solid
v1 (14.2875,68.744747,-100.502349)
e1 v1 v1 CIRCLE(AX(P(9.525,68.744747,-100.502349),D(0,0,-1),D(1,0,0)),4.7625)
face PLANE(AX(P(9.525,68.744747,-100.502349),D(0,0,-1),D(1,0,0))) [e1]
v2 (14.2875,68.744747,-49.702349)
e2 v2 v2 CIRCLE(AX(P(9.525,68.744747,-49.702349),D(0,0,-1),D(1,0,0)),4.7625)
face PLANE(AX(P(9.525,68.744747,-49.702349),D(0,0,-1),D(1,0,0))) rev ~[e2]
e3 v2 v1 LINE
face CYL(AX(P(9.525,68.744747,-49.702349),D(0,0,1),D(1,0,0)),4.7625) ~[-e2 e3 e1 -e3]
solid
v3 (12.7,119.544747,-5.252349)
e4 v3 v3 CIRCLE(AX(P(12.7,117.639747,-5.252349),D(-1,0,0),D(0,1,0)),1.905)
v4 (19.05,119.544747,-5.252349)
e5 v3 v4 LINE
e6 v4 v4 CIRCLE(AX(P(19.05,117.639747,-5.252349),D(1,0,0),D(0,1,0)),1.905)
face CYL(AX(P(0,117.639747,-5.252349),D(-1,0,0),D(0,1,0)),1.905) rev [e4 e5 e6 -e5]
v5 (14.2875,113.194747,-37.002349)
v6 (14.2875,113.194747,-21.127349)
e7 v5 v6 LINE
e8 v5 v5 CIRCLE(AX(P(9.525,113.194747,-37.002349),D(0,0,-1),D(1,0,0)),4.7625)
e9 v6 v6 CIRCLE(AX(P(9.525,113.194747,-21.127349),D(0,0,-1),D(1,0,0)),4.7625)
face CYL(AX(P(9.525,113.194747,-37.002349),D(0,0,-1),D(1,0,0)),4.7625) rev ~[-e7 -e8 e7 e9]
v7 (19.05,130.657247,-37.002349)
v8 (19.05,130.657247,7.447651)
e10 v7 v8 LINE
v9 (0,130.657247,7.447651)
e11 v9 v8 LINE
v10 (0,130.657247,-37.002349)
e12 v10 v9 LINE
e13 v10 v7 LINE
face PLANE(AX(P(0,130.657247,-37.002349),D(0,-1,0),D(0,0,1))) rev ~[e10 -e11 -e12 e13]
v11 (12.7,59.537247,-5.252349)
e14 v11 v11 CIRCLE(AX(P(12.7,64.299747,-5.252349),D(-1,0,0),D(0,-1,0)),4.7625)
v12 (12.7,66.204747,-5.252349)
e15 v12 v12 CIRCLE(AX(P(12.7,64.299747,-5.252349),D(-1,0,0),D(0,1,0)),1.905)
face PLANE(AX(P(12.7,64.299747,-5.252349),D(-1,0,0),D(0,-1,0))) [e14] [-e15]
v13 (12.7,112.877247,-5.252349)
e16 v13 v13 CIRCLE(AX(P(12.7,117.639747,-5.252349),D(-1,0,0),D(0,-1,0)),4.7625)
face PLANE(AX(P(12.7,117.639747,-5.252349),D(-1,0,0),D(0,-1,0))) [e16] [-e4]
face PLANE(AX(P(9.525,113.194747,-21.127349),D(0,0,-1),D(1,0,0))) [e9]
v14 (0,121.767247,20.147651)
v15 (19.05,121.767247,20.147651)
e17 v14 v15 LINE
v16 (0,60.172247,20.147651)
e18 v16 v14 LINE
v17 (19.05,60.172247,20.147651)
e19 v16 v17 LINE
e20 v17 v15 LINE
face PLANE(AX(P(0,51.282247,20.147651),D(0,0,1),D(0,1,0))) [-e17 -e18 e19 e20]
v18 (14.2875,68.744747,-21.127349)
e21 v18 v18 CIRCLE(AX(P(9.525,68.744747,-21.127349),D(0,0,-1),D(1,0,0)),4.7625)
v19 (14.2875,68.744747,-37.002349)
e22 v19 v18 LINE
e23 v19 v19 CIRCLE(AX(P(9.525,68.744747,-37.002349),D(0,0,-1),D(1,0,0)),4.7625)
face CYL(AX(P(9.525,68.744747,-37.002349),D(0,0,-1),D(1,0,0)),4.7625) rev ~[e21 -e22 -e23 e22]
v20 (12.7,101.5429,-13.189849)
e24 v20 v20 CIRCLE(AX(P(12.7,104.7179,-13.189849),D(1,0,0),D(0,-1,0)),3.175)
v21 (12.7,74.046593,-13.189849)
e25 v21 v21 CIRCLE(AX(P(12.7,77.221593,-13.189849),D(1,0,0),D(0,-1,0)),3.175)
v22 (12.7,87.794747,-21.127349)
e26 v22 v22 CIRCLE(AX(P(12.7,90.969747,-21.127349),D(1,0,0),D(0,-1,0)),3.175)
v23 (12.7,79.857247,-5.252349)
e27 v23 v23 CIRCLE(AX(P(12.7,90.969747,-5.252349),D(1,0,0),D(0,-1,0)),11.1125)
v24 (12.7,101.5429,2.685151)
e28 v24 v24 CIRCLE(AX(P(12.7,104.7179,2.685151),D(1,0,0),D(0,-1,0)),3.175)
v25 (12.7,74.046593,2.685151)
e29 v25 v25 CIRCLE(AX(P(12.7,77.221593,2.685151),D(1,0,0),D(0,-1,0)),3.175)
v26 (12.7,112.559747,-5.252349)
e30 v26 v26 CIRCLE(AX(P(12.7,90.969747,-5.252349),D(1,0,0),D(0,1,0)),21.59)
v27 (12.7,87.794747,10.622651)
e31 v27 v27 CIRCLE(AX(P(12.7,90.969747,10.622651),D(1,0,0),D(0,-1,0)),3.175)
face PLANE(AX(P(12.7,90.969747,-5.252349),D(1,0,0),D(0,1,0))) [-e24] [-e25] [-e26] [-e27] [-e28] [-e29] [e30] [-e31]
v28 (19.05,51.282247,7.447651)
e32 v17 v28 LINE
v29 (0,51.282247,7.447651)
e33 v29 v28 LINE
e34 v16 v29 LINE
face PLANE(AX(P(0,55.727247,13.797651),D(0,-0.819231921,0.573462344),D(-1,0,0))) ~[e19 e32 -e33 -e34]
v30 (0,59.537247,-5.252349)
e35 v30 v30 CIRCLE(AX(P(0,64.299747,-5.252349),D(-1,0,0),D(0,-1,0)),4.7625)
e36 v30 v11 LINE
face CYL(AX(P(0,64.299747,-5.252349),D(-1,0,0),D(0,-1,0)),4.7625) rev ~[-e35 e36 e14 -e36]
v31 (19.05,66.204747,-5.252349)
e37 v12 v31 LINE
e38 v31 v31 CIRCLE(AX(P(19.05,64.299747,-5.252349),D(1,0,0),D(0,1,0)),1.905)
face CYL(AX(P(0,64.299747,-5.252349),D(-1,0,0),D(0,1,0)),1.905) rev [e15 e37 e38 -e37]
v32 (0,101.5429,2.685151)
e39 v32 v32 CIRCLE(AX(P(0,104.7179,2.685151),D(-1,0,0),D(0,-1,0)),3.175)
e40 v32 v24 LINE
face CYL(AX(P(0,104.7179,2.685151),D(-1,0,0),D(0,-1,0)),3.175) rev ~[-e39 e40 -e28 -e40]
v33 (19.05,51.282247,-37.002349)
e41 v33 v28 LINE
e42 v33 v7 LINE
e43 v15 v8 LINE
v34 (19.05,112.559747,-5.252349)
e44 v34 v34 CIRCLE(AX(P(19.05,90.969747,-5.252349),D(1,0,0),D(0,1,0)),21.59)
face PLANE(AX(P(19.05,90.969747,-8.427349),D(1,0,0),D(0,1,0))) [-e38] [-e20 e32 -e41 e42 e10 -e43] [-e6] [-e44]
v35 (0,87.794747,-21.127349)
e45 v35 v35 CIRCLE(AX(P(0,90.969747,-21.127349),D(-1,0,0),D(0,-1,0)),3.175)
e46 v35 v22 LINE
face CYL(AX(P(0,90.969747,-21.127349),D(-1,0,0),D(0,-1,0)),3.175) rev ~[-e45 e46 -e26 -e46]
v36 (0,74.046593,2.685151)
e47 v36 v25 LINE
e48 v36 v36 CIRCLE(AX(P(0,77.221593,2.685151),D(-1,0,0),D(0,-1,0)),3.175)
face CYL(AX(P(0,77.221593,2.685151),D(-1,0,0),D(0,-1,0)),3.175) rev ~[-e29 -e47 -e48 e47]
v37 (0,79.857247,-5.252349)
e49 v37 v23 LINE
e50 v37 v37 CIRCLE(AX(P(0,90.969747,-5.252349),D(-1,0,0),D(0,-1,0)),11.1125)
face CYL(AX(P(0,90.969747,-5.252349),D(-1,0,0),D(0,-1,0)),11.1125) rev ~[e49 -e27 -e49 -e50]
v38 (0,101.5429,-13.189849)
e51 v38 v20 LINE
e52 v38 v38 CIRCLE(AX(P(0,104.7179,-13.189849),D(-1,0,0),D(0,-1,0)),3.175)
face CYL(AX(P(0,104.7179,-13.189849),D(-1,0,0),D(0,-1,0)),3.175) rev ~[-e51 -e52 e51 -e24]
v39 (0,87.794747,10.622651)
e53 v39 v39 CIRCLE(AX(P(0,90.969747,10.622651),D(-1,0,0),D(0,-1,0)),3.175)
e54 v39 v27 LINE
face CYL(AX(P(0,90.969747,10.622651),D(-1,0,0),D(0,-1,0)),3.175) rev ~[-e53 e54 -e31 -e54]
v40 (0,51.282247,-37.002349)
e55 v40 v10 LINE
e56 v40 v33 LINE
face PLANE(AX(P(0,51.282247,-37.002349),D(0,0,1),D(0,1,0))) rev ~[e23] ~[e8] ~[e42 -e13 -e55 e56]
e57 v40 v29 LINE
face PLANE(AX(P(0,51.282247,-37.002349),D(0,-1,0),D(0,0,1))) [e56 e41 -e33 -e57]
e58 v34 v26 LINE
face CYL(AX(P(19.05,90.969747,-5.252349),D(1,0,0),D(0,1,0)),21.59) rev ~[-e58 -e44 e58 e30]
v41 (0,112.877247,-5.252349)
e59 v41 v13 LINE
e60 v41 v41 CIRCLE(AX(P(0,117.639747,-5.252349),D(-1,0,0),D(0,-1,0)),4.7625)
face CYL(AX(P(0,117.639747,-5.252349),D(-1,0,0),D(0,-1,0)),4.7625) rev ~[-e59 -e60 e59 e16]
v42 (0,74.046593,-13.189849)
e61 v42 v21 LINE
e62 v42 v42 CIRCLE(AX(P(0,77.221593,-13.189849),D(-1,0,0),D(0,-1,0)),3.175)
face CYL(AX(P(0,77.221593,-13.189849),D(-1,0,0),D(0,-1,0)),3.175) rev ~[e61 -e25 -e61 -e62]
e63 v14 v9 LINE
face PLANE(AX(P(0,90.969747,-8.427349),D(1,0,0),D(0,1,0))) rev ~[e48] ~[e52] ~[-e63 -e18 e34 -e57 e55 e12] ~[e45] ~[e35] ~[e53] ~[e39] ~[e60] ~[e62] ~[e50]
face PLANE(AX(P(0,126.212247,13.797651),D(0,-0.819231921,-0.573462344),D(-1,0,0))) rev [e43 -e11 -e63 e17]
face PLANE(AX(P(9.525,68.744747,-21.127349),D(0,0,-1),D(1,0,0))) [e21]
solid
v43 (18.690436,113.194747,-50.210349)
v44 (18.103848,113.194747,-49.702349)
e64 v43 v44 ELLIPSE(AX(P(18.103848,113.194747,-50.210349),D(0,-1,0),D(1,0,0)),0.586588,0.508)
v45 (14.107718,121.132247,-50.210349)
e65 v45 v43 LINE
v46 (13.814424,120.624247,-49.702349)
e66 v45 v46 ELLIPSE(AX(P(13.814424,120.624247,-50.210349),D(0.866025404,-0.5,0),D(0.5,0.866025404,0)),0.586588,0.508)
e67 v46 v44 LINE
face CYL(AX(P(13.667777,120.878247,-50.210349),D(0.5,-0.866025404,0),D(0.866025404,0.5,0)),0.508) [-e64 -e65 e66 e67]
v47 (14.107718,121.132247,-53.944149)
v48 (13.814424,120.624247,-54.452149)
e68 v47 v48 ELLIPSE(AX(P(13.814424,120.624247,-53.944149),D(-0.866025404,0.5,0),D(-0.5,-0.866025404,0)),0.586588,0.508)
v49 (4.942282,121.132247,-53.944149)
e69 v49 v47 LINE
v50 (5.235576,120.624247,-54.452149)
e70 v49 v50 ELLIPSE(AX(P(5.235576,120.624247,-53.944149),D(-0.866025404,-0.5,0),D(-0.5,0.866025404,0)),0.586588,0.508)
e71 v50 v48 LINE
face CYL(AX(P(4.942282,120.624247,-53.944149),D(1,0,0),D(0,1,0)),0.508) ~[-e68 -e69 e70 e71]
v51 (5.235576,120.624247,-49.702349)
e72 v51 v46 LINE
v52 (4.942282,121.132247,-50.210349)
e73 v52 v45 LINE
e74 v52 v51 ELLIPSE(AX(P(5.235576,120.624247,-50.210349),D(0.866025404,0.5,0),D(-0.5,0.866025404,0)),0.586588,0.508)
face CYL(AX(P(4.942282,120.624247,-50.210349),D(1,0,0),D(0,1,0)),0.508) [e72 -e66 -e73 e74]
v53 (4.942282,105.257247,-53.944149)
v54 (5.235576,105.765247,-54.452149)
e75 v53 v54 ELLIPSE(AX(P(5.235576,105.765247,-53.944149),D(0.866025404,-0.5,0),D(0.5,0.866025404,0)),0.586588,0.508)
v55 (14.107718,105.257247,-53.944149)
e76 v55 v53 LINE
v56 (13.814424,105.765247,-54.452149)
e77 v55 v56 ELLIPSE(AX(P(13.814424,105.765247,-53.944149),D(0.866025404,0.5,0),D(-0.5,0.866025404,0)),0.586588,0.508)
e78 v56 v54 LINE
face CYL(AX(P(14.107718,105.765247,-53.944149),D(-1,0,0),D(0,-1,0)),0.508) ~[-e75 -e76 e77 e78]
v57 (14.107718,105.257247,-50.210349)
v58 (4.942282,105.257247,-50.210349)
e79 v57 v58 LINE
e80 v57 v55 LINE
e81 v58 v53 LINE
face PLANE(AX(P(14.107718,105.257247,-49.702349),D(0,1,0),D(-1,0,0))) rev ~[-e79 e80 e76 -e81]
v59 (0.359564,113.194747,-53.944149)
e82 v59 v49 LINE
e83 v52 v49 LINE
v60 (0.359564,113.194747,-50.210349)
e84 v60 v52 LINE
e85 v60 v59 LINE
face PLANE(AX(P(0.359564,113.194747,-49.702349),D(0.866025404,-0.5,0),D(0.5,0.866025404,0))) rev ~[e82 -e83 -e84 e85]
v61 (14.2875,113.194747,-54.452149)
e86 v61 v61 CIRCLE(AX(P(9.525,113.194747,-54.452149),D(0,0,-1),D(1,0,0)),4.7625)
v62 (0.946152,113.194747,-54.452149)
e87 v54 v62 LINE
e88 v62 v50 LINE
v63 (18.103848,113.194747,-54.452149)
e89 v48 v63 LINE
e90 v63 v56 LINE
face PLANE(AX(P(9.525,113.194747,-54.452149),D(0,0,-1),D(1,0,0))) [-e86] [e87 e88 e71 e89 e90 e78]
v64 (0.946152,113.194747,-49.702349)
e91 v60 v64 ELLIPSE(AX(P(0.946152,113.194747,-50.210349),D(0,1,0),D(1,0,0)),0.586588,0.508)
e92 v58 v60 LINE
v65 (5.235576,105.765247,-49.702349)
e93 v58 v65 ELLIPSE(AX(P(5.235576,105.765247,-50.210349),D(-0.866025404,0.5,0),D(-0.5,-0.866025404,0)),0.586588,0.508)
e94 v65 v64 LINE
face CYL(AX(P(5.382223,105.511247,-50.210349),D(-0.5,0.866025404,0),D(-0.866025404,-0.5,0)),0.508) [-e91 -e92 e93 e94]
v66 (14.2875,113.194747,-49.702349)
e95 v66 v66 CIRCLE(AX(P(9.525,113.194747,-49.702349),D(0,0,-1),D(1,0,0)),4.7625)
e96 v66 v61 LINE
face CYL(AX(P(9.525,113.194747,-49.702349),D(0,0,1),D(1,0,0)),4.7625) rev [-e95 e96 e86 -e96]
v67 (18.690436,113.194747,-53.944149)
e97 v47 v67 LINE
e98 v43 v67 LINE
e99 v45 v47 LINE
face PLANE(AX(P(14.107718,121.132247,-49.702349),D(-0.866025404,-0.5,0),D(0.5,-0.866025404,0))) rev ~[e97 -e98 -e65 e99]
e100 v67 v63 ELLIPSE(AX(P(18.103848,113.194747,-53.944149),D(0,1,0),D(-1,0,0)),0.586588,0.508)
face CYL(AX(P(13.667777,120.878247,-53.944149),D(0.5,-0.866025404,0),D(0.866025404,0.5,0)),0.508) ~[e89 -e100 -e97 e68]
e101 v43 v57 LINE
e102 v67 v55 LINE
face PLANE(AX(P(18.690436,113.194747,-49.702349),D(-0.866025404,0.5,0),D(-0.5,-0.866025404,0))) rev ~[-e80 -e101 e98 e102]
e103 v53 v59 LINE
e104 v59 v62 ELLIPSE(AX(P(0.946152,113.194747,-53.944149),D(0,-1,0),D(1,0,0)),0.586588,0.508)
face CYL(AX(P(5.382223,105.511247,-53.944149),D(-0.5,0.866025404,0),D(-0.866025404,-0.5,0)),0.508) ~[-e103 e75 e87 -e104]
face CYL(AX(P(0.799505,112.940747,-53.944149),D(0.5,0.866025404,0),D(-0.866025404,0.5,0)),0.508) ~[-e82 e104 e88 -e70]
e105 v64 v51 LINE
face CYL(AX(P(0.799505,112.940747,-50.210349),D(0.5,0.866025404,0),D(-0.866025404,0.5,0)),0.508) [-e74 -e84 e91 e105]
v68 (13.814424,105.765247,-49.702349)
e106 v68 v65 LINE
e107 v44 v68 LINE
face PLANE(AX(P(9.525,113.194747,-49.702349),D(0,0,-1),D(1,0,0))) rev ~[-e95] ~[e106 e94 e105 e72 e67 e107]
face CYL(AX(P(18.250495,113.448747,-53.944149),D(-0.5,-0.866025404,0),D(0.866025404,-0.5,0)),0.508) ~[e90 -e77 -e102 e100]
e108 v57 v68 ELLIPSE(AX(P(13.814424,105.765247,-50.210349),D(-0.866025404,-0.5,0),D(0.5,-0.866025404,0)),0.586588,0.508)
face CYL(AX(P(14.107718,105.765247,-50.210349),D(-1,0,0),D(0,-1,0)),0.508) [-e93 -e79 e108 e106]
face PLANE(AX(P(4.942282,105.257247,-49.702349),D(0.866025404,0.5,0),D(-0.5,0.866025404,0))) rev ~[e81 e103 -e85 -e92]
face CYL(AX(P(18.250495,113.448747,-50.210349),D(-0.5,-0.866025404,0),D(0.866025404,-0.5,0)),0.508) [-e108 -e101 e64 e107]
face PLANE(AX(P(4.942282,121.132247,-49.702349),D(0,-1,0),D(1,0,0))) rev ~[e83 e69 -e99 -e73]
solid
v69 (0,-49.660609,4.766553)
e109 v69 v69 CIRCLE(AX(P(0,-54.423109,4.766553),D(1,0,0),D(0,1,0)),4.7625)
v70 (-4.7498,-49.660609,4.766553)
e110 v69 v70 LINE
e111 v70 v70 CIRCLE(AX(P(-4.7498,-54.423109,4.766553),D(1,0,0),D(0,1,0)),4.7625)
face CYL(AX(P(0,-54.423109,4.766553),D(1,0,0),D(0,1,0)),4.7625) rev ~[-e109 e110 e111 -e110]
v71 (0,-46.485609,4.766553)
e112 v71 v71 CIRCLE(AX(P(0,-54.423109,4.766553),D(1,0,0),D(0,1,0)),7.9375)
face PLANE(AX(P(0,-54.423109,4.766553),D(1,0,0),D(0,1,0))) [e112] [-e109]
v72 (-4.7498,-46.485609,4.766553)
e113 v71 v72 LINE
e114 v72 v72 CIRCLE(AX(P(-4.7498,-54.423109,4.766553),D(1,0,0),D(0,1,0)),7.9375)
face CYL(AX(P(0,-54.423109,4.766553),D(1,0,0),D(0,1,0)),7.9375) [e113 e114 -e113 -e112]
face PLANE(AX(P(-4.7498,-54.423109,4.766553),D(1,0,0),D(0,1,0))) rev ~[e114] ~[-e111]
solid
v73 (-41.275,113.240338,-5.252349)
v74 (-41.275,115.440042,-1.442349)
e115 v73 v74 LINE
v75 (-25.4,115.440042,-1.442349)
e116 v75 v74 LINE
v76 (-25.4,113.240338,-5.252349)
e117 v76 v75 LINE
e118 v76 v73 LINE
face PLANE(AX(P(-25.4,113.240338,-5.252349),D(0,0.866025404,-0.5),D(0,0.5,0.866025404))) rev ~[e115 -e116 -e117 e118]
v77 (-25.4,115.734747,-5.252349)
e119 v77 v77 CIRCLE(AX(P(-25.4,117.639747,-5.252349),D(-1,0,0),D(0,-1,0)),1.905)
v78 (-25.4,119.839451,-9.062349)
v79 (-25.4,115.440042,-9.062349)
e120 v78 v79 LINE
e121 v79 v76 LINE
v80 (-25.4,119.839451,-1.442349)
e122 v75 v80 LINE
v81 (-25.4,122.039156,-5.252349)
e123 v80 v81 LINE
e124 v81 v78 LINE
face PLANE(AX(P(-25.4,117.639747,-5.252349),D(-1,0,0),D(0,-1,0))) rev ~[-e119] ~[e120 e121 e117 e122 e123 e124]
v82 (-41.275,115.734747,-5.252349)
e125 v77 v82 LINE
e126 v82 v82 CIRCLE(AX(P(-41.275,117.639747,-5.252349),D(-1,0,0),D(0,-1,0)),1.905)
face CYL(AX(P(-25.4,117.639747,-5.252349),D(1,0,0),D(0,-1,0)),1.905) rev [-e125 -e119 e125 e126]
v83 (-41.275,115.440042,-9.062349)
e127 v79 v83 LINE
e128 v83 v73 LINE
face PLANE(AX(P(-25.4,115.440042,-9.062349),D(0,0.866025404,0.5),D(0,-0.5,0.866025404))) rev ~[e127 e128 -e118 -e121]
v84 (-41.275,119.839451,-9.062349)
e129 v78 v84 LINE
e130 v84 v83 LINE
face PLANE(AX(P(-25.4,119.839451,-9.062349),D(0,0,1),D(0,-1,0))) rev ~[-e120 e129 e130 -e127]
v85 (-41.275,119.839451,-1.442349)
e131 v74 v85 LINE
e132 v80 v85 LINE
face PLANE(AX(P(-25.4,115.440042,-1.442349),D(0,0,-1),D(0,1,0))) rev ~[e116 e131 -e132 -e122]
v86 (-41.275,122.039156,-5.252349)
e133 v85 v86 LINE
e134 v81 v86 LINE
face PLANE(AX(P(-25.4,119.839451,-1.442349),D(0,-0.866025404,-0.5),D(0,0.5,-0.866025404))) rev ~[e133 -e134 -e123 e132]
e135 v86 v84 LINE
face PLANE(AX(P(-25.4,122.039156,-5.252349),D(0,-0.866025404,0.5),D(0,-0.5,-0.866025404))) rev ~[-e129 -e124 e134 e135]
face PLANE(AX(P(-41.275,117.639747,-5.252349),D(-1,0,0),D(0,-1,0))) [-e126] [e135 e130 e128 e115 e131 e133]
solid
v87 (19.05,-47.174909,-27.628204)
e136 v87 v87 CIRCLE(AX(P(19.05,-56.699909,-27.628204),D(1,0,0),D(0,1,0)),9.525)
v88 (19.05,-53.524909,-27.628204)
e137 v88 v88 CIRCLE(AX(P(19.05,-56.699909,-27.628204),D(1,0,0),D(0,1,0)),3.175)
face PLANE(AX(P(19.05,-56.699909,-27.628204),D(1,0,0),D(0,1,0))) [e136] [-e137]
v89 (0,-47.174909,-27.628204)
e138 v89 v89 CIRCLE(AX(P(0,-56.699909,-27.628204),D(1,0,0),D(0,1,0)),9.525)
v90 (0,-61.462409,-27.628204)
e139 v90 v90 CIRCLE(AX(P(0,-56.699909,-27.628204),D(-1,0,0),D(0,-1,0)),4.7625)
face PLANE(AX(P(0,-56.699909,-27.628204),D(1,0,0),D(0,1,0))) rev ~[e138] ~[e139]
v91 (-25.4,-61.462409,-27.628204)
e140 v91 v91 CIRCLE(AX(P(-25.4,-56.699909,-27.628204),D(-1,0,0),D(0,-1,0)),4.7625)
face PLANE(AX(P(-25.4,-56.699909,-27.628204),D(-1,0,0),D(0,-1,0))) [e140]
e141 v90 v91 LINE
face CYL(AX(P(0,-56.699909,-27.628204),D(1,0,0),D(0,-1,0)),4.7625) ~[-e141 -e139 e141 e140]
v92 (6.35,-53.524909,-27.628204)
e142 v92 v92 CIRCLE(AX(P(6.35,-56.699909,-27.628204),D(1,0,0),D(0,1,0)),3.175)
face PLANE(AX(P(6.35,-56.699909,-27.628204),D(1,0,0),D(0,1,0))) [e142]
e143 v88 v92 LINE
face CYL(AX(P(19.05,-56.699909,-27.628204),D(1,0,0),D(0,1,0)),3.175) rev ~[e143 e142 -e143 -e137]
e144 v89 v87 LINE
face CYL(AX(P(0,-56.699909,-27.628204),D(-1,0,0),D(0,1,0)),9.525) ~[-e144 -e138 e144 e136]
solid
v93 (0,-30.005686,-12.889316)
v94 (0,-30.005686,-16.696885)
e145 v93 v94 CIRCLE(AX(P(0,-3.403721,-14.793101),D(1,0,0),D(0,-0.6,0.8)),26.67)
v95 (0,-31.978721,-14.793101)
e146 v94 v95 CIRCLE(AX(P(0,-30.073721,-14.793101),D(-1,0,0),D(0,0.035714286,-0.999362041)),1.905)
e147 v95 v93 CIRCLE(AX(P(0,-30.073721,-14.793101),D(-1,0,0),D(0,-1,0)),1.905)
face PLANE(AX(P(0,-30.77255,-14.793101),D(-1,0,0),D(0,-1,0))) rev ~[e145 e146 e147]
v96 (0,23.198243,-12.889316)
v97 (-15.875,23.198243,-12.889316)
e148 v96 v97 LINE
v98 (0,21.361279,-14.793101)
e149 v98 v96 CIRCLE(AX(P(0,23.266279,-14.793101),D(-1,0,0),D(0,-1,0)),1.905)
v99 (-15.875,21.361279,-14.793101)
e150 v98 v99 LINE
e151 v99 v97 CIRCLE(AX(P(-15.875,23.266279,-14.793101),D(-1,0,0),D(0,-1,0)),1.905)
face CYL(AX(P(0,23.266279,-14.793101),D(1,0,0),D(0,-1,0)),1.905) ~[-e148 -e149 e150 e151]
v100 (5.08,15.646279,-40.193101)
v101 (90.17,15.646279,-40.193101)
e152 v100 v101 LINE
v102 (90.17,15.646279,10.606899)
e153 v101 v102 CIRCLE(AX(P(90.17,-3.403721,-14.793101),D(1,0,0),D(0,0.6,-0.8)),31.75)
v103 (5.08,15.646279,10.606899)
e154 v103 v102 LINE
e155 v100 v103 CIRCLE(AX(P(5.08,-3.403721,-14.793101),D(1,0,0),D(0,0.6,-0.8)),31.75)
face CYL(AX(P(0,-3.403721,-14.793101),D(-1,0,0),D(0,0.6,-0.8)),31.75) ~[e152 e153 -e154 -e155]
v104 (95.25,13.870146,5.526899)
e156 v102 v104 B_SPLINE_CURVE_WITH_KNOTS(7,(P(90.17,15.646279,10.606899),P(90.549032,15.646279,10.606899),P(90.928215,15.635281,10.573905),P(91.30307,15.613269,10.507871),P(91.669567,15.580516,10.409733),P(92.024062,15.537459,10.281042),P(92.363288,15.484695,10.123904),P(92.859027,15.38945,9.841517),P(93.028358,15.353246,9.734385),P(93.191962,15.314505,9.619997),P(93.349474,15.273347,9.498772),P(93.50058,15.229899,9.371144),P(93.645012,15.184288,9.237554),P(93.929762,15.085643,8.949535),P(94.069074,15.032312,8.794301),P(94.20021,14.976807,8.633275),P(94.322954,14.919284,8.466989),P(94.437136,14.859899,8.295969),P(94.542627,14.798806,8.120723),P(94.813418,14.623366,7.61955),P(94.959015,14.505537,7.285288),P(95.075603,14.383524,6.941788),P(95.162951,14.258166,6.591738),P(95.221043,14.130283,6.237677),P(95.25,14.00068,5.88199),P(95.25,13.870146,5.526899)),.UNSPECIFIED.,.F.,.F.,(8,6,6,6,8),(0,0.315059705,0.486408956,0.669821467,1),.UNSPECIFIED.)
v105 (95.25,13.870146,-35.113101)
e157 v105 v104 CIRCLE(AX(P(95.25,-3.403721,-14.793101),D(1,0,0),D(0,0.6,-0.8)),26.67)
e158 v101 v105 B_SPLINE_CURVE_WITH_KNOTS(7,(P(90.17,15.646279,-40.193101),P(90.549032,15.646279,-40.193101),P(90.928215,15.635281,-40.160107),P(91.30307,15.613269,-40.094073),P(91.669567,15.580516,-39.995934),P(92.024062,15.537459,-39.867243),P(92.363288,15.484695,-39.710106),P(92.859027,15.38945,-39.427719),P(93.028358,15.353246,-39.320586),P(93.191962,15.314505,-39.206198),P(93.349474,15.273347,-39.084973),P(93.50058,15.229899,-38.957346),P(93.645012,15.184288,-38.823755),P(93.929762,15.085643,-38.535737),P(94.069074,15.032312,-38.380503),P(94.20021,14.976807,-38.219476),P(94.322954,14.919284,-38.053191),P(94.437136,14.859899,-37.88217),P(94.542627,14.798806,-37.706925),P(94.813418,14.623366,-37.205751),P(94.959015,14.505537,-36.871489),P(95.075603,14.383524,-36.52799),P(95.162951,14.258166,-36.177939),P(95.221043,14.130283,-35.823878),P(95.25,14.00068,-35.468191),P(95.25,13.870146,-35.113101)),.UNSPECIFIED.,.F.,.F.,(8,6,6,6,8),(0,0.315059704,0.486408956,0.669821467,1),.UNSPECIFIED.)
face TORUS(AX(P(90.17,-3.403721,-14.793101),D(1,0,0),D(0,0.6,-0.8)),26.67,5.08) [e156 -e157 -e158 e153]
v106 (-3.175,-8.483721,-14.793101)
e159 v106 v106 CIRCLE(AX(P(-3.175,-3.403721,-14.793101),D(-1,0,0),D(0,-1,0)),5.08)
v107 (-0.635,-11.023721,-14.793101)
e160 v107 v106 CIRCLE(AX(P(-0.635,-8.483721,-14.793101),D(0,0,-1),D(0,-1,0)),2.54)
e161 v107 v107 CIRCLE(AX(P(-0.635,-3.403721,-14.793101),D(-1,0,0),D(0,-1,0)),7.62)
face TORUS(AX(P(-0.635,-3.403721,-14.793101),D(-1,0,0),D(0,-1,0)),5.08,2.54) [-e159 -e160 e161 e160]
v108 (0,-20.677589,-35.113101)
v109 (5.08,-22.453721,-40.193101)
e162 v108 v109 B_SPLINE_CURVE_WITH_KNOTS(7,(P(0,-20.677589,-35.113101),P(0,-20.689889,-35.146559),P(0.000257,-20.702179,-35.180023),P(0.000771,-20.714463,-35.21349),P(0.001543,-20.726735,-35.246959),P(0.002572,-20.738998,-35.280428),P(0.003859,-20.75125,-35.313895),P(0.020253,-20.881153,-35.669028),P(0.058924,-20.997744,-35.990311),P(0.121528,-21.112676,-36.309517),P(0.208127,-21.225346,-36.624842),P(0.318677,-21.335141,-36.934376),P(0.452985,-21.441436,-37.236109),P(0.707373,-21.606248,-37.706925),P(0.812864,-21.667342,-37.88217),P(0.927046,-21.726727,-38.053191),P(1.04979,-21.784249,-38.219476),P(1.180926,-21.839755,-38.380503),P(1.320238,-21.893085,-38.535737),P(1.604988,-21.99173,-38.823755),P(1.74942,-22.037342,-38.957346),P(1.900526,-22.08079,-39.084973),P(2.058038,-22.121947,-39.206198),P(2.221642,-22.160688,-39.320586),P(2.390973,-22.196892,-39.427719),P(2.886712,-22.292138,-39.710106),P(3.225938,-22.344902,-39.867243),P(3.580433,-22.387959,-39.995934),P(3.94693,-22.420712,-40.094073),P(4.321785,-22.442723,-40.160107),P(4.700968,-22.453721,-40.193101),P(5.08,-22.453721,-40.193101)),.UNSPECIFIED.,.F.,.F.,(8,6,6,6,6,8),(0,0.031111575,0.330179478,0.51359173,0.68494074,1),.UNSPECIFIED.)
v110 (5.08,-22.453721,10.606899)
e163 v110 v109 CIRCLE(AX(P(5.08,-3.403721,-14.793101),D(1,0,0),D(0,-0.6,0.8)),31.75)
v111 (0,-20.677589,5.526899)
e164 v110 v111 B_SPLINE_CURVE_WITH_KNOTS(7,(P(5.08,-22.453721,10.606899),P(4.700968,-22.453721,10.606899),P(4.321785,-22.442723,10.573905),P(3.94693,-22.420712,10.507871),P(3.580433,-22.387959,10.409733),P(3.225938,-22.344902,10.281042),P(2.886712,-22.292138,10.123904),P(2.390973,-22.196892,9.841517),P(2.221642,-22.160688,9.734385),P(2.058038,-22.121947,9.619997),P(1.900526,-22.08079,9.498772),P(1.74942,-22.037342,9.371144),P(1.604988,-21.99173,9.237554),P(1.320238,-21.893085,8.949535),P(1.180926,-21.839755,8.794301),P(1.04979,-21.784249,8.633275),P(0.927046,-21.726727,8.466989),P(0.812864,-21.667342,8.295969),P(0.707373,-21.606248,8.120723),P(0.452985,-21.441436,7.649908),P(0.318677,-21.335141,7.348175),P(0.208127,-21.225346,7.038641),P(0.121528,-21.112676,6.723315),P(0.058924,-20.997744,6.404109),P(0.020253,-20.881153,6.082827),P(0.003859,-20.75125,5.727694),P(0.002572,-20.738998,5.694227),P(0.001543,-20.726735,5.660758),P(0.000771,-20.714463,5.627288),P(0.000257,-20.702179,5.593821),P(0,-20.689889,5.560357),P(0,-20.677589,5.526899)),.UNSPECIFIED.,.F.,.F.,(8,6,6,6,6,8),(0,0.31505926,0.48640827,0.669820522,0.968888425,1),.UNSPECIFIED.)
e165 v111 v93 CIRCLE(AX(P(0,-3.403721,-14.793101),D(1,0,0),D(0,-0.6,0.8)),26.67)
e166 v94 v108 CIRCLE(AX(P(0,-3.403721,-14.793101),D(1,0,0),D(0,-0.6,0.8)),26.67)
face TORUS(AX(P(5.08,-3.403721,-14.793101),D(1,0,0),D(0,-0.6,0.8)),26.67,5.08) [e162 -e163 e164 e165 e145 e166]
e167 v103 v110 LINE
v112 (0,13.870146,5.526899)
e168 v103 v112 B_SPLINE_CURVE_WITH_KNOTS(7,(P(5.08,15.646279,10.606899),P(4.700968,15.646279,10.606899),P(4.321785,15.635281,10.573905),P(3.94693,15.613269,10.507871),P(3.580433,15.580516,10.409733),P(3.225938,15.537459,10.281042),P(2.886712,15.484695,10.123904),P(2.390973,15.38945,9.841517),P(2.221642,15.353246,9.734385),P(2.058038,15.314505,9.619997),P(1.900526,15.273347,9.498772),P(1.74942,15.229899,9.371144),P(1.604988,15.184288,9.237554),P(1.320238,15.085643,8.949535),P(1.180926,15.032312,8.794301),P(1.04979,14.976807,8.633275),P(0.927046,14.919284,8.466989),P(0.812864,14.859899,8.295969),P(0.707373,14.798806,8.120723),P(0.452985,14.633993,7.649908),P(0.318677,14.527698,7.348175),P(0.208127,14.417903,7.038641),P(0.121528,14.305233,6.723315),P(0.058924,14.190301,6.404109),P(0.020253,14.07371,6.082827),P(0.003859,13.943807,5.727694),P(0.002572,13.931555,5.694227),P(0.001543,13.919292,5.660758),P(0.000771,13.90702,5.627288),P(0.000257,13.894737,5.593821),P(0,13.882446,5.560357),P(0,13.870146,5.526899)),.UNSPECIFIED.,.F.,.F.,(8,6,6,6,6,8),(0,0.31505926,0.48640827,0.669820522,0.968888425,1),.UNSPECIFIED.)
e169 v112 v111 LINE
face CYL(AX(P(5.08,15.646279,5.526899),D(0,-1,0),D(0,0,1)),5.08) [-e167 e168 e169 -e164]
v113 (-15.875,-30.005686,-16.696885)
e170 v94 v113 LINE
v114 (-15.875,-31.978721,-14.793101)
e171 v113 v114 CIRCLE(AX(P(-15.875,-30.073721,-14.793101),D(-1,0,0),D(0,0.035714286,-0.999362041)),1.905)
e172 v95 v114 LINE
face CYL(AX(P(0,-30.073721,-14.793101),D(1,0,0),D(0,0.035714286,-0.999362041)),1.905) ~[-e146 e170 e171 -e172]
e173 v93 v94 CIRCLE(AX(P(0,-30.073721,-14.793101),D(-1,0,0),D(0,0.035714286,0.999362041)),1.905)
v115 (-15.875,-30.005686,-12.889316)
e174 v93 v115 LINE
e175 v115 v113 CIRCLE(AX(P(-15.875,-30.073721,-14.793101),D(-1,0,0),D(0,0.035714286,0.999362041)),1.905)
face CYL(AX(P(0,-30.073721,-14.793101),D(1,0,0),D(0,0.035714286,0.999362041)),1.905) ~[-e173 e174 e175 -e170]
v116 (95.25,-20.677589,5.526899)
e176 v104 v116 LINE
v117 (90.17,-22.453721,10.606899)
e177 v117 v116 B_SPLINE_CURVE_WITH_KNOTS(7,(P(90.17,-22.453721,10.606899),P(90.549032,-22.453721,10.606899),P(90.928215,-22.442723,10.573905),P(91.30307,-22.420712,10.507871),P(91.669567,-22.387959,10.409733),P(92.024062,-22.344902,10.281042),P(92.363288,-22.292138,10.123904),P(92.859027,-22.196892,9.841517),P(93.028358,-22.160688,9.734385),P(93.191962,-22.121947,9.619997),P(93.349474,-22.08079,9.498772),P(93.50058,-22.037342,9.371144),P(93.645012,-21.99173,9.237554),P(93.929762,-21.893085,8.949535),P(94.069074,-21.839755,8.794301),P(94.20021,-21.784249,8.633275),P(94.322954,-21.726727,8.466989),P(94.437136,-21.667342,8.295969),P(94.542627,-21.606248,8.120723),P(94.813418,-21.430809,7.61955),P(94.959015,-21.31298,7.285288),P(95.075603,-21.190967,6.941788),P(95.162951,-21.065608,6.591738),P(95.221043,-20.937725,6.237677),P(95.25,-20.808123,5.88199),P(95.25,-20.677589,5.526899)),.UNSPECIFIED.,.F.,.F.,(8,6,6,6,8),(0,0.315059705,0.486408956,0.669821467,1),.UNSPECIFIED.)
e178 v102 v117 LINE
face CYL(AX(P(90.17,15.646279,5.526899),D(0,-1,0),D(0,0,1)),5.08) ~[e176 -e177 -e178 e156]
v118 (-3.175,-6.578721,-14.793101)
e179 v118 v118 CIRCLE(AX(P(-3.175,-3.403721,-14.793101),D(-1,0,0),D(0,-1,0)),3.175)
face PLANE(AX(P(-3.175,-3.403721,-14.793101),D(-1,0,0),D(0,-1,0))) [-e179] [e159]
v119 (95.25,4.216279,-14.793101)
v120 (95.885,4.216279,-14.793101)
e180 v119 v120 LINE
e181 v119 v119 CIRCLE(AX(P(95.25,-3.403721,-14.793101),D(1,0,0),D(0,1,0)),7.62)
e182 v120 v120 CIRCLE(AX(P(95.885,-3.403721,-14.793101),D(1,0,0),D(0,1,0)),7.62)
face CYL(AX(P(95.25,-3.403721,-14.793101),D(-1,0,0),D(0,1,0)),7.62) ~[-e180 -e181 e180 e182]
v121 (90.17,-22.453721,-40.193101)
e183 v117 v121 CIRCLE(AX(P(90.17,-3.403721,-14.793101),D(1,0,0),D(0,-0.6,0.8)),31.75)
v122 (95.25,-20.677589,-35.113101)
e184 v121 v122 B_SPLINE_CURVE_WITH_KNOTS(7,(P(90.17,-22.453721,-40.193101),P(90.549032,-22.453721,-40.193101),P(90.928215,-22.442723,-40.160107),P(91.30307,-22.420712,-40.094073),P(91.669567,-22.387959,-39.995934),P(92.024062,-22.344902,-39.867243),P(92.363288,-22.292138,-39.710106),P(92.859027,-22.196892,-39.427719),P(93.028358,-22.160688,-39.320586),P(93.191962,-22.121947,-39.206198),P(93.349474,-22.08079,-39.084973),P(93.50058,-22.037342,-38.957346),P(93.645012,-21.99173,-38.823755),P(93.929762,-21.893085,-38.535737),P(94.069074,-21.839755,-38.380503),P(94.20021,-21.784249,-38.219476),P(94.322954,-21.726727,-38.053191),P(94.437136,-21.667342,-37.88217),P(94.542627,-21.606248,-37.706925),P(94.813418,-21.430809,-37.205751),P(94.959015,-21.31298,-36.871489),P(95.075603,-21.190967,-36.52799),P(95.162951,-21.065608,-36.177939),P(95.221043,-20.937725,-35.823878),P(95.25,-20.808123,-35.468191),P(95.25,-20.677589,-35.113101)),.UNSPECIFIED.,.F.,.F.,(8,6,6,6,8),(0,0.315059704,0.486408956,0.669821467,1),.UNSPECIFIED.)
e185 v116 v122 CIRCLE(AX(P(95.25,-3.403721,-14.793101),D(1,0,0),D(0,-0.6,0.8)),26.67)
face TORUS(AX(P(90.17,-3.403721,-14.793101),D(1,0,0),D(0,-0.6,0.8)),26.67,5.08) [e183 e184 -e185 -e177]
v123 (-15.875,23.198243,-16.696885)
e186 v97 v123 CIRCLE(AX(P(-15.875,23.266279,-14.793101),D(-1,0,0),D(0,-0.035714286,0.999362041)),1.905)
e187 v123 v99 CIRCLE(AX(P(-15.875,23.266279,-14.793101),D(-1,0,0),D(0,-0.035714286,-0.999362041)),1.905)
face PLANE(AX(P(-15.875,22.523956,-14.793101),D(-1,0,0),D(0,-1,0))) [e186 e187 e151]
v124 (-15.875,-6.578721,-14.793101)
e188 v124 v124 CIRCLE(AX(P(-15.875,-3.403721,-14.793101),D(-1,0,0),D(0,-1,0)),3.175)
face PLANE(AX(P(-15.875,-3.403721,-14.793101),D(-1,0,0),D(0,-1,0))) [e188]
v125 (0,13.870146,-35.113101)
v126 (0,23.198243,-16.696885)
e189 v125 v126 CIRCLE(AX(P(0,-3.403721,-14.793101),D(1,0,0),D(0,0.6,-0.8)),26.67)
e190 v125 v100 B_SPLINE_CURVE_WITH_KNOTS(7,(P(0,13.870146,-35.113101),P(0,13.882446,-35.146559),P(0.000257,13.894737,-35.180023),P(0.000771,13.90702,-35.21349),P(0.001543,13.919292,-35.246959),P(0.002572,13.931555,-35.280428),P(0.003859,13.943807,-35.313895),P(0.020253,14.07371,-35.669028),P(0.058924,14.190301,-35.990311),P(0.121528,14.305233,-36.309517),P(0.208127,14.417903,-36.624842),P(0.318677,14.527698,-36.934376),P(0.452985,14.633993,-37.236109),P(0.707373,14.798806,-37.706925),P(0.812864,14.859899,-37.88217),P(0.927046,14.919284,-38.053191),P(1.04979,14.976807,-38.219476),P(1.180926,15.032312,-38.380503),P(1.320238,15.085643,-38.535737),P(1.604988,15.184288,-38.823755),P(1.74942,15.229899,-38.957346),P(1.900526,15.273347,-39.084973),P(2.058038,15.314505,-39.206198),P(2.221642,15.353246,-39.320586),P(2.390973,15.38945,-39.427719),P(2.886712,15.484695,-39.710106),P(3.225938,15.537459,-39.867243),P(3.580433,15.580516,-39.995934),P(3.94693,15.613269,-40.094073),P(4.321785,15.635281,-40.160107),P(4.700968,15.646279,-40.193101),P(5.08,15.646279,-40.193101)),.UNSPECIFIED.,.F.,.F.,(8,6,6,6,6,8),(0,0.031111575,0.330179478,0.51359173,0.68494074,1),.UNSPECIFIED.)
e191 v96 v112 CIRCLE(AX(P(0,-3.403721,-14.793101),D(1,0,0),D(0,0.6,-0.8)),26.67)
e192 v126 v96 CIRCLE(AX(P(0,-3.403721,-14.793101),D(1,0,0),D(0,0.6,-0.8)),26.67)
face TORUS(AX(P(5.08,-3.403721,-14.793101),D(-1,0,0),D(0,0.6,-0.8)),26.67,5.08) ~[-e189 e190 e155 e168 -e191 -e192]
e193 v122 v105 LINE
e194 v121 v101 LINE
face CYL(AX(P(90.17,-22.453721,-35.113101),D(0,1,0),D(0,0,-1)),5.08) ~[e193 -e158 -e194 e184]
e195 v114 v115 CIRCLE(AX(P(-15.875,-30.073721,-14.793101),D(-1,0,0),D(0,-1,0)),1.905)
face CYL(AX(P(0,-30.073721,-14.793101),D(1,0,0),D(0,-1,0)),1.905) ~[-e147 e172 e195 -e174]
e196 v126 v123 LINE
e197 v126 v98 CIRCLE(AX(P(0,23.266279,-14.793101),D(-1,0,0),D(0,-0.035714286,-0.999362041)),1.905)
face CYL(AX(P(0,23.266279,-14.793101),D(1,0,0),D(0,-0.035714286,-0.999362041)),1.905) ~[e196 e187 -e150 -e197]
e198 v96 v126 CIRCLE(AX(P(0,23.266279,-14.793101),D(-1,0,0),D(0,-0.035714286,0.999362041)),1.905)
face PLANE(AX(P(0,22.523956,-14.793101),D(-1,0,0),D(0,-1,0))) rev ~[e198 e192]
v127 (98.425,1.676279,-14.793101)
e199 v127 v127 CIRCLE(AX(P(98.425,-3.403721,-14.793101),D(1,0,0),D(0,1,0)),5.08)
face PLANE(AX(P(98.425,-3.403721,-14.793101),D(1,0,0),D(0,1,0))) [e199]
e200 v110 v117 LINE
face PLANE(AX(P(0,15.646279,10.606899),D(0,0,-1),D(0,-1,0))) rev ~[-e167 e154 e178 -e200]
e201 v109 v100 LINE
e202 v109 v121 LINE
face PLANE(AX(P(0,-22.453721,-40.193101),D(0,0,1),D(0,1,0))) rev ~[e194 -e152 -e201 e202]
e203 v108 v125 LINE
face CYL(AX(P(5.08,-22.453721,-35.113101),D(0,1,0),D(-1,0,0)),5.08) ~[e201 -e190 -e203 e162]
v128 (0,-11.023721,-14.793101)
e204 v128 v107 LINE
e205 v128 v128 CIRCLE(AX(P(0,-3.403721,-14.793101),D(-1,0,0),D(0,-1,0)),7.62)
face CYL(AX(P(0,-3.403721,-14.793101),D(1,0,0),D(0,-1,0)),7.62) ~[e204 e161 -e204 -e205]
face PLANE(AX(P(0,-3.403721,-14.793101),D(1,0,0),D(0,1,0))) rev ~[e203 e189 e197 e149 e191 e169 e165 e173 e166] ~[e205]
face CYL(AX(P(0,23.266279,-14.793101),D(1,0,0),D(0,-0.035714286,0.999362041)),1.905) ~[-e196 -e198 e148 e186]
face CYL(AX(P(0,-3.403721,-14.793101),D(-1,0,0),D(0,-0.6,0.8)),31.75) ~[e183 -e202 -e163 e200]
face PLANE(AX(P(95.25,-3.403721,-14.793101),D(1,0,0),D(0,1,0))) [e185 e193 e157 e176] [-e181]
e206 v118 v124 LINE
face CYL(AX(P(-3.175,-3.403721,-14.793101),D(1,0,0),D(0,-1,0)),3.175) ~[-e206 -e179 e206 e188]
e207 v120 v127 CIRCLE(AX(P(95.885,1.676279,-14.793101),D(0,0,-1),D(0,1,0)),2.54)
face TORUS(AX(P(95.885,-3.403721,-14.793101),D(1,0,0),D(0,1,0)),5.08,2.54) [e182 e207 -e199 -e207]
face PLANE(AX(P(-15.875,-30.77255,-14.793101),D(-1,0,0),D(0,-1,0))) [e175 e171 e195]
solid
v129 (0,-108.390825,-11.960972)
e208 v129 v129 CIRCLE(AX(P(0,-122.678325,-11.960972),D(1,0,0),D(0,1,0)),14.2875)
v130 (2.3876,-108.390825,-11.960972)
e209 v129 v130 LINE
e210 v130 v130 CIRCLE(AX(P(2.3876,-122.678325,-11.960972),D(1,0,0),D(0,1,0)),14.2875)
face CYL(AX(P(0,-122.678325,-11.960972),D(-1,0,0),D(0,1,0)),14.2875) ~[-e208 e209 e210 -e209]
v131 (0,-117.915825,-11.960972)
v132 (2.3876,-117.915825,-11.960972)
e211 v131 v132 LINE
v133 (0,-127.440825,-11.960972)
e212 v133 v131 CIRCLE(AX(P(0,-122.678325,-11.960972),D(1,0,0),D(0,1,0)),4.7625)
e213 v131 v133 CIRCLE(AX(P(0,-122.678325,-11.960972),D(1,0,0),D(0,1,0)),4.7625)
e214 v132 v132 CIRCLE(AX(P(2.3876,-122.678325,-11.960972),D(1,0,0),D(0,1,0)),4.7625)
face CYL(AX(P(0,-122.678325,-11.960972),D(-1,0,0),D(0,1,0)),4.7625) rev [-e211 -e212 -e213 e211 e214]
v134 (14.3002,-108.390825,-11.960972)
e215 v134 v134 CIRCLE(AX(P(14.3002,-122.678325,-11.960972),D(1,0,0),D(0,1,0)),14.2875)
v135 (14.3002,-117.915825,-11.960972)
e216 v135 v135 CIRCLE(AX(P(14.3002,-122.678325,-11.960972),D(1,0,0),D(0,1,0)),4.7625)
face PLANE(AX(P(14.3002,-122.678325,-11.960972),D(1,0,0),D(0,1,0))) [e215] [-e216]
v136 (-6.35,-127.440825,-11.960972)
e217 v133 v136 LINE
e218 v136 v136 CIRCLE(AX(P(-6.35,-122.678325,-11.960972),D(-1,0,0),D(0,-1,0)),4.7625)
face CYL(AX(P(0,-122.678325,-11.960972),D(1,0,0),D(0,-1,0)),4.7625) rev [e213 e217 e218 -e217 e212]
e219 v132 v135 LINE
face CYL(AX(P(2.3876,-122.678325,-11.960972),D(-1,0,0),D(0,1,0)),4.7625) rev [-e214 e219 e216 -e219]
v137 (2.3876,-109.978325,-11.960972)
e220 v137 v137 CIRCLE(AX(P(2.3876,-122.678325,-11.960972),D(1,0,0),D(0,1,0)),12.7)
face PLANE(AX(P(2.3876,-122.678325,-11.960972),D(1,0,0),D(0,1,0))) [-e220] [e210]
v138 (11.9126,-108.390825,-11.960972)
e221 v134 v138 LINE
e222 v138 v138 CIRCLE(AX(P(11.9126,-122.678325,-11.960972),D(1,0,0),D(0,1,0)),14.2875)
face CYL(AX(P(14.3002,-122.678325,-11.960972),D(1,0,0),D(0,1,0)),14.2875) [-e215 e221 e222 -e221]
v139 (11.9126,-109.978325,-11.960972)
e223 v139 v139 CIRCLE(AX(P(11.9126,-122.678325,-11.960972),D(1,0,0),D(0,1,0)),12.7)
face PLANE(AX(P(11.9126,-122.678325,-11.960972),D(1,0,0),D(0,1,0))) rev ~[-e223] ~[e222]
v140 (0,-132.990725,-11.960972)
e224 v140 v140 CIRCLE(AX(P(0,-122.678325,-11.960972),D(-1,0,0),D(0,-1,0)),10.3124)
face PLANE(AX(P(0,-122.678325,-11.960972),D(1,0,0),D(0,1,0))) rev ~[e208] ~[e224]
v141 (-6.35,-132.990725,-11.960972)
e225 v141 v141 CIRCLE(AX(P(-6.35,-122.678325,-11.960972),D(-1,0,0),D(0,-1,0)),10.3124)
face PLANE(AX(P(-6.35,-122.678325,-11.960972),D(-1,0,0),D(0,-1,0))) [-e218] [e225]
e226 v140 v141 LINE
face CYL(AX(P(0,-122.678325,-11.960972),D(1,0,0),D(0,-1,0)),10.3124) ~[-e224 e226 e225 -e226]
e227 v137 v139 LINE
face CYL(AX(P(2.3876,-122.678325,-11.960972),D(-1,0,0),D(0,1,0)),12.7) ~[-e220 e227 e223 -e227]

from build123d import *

# Parameters (mm, degrees)
F1_DEPTH  = 95.25
F2_R      = 5.08
F3_R      = 5.08
F4_R      = 7.62
F5_DEPTH  = 3.175
F6_R      = 3.175
F7_DEPTH  = 12.7
F8_R      = 2.54
F9_R      = 7.62
F10_DEPTH = 3.175
F11_R     = 2.54
F13_DEPTH = 15.875
F14_W     = 79.375
F14_H     = 57.15
F14_R     = 1.905
F15_DEPTH = 19.05
F16_R     = 4.7625
F16_R_2   = 1.905
F17_DEPTH = 12.7
F18_R     = 11.1125
F19_DEPTH = 98.426
F20_SIZE2 = 12.7
F20_SIZE  = 8.89
F21_R     = 4.7625
F22_DEPTH = 15.875
F23_R     = 3.175
F24_DEPTH = 98.426
F25_R     = 21.59
F25_R_2   = 3.175
F25_R_3   = 11.1125
F26_DEPTH = 6.35
F27_R     = 9.525
F28_DEPTH = 19.05
F29_R     = 4.7625
F30_DEPTH = 25.4
F31_R     = 3.175
F32_DEPTH = 12.7
F33_R     = 14.2875
F33_R_2   = 4.7625
F34_DEPTH = 2.3876
F35_R     = 10.3124
F35_R_2   = 4.7625
F36_DEPTH = 6.35
F37_R     = 12.7
F37_R_2   = 4.7625
F38_DEPTH = 11.9126
F39_R     = 14.2875
F39_R_2   = 12.7
F40_DEPTH = 2.3876
F41_R     = 7.9375
F41_R_2   = 4.7625
F42_DEPTH = 4.7498
F44_R     = 1.905
F45_DEPTH = 15.875
F47_R     = 4.7625
F48_DEPTH = 50.8
F49_R     = 4.7625
F50_DEPTH = 4.7498
F51_R     = 0.508


with BuildPart() as f1:
    # F0 (on Right) → F1 (new body)
    with BuildSketch(Plane.YZ):
        with BuildLine():
            Line((15.6462786544, 10.6068992332), (-22.4537213456, 10.6068992332))
            ThreePointArc((-22.4537213456, 10.6068992332), (-35.1537213456, -14.7931007668), (-22.4537213456, -40.1931007668))
            Line((-22.4537213456, -40.1931007668), (15.6462786544, -40.1931007668))
            ThreePointArc((15.6462786544, -40.1931007668), (28.3462786544, -14.7931007668), (15.6462786544, 10.6068992332))
        make_face()
    extrude(amount=F1_DEPTH)

    # F2
    f2_edges = [f1.edges().sort_by_distance(p)[0] for p in [
        (95.25, -35.153721, -14.793101),
        (95.25, 28.346279, -14.793101),
        (95.25, -3.403721, 10.606899),
        (95.25, -3.403721, -40.193101),
    ]]
    fillet(f2_edges, radius=F2_R)

    # F3
    f3_edges = [f1.edges().sort_by_distance(p)[0] for p in [
        (0, -3.403721, 10.606899),
        (0, -3.403721, -40.193101),
        (0, -35.153721, -14.793101),
        (0, 28.346279, -14.793101),
    ]]
    fillet(f3_edges, radius=F3_R)

    # F4 (on face) → F5 (join)
    with BuildSketch(Plane(origin=(0, 0, 0), x_dir=(0, -1, 0), z_dir=(-1, 0, 0))):
        with Locations((3.4037213456, -14.7931007668)):
            Circle(F4_R)
    extrude(amount=F5_DEPTH)

    # F6 (on face) → F7 (join)
    with BuildSketch(Plane(origin=(-3.175, 0, 0), x_dir=(0, -1, 0), z_dir=(-1, 0, 0))):
        with Locations((3.4037213456, -14.7931007668)):
            Circle(F6_R)
    extrude(amount=F7_DEPTH)

    # F8
    f8_edges = [f1.edges().sort_by_distance(p)[0] for p in [
        (-3.175, 4.216279, -14.793101),
    ]]
    fillet(f8_edges, radius=F8_R)

    # F9 (on face) → F10 (join)
    with BuildSketch(Plane.YZ.offset(95.25)):
        with Locations((-3.4037213456, -14.7931007668)):
            Circle(F9_R)
    extrude(amount=F10_DEPTH)

    # F11
    f11_edges = [f1.edges().sort_by_distance(p)[0] for p in [
        (98.425, -11.023721, -14.793101),
    ]]
    fillet(f11_edges, radius=F11_R)

    # F12 (on face) → F13 (join)
    with BuildSketch(Plane(origin=(0, 0, 0), x_dir=(0, -1, 0), z_dir=(-1, 0, 0))):
        with BuildLine():
            ThreePointArc((-23.1982429401, -16.6968854557), (-21.8953969972, -16.1158662344), (-21.3612786544, -14.7931007668))
            ThreePointArc((-21.3612786544, -14.7931007668), (-21.8953969972, -13.4703352993), (-23.1982429401, -12.889316078))
            ThreePointArc((-23.1982429401, -12.889316078), (-23.2662786544, -14.7931007668), (-23.1982429401, -16.6968854557))
        make_face()
        with BuildLine():
            ThreePointArc((-23.1982429401, -16.6968854557), (-23.2662786544, -14.7931007668), (-23.1982429401, -12.889316078))
            ThreePointArc((-23.1982429401, -12.889316078), (-25.1712786544, -14.7931007668), (-23.1982429401, -16.6968854557))
        make_face()
        with BuildLine():
            ThreePointArc((31.9787213456, -14.7931007668), (31.3964868132, -13.4222191097), (30.0056856313, -12.889316078))
            ThreePointArc((30.0056856313, -12.889316078), (30.0737213456, -14.7931007668), (30.0056856313, -16.6968854557))
            ThreePointArc((30.0056856313, -16.6968854557), (31.3964868132, -16.163982424), (31.9787213456, -14.7931007668))
        make_face()
        with BuildLine():
            ThreePointArc((30.0056856313, -16.6968854557), (30.0737213456, -14.7931007668), (30.0056856313, -12.889316078))
            ThreePointArc((30.0056856313, -12.889316078), (28.1687213456, -14.7931007668), (30.0056856313, -16.6968854557))
        make_face()
    extrude(amount=F13_DEPTH)


with BuildPart() as f15:
    # F14 (on Right) → F15 (new body)
    with BuildSketch(Plane.YZ):
        with Locations((90.9697466791, -8.427348591)):
            Rectangle(F14_W, F14_H)
        with Locations((64.2997466791, -5.252348591)):
            Circle(F14_R, mode=Mode.SUBTRACT)
        with Locations((117.6397466791, -5.252348591)):
            Circle(F14_R, mode=Mode.SUBTRACT)
    extrude(amount=F15_DEPTH)

    # F16 (on face) → F17 (cut)
    with BuildSketch(Plane(origin=(0, 0, 0), x_dir=(0, -1, 0), z_dir=(-1, 0, 0))):
        with Locations((-117.6397466791, -5.252348591)):
            Circle(F16_R)
        with Locations((-117.6397466791, -5.252348591)):
            Circle(F16_R_2, mode=Mode.SUBTRACT)
        with Locations((-64.2997466791, -5.252348591)):
            Circle(F16_R)
        with Locations((-64.2997466791, -5.252348591)):
            Circle(F16_R_2, mode=Mode.SUBTRACT)
    extrude(amount=-F17_DEPTH, mode=Mode.SUBTRACT)

    # F18 (on face) → F19 (cut, through all)
    with BuildSketch(Plane(origin=(0, 0, 0), x_dir=(0, -1, 0), z_dir=(-1, 0, 0))):
        with Locations((-90.9697466791, -5.252348591)):
            Circle(F18_R)
    extrude(amount=-F19_DEPTH, mode=Mode.SUBTRACT)

    # F20
    f20_edges = [f15.edges().sort_by_distance(p)[0] for p in [
        (9.525, 130.657247, 20.147651),
        (9.525, 51.282247, 20.147651),
    ]]
    f20_side = f15.faces().sort_by_distance((9.525, 90.969747, 20.147651))[0]
    chamfer(f20_edges, length=F20_SIZE, length2=F20_SIZE2, reference=f20_side)

    # F21 (on face) → F22 (cut)
    with BuildSketch(Plane(origin=(0, 0, -37.002348591), x_dir=(1, 0, 0), z_dir=(0, 0, -1))):
        with Locations((9.525, -68.7447466791)):
            Circle(F21_R)
        with Locations((9.525, -113.1947466791)):
            Circle(F21_R)
    extrude(amount=-F22_DEPTH, mode=Mode.SUBTRACT)

    # F23 (on face) → F24 (cut, through all)
    with BuildSketch(Plane(origin=(0, 0, 0), x_dir=(0, -1, 0), z_dir=(-1, 0, 0))):
        with Locations((-90.9697466791, 10.622651409)):
            Circle(F23_R)
        with Locations((-77.221593394, 2.685151409)):
            Circle(F23_R)
        with Locations((-77.221593394, -13.189848591)):
            Circle(F23_R)
        with Locations((-90.9697466791, -21.127348591)):
            Circle(F23_R)
        with Locations((-104.7178999641, -13.189848591)):
            Circle(F23_R)
        with Locations((-104.7178999641, 2.685151409)):
            Circle(F23_R)
    extrude(amount=-F24_DEPTH, mode=Mode.SUBTRACT)

    # F25 (on face) → F26 (cut)
    with BuildSketch(Plane.YZ.offset(19.05)):
        with Locations((90.9697466791, -5.252348591)):
            Circle(F25_R)
        with Locations((77.221593394, -13.189848591)):
            Circle(F25_R_2, mode=Mode.SUBTRACT)
        with Locations((90.9697466791, -21.127348591)):
            Circle(F25_R_2, mode=Mode.SUBTRACT)
        with Locations((104.7178999641, -13.189848591)):
            Circle(F25_R_2, mode=Mode.SUBTRACT)
        with Locations((77.221593394, 2.685151409)):
            Circle(F25_R_2, mode=Mode.SUBTRACT)
        with Locations((90.9697466791, -5.252348591)):
            Circle(F25_R_3, mode=Mode.SUBTRACT)
        with Locations((104.7178999641, 2.685151409)):
            Circle(F25_R_2, mode=Mode.SUBTRACT)
        with Locations((90.9697466791, 10.622651409)):
            Circle(F25_R_2, mode=Mode.SUBTRACT)
    extrude(amount=-F26_DEPTH, mode=Mode.SUBTRACT)


with BuildPart() as f28:
    # F27 (on Right) → F28 (new body)
    with BuildSketch(Plane.YZ):
        with Locations((-56.6999092698, -27.628203854)):
            Circle(F27_R)
    extrude(amount=F28_DEPTH)

    # F29 (on face) → F30 (join)
    with BuildSketch(Plane(origin=(0, 0, 0), x_dir=(0, -1, 0), z_dir=(-1, 0, 0))):
        with Locations((56.6999092698, -27.628203854)):
            Circle(F29_R)
    extrude(amount=F30_DEPTH)

    # F31 (on face) → F32 (cut)
    with BuildSketch(Plane.YZ.offset(19.05)):
        with Locations((-56.6999092698, -27.628203854)):
            Circle(F31_R)
    extrude(amount=-F32_DEPTH, mode=Mode.SUBTRACT)


with BuildPart() as f34:
    # F33 (on Right) → F34 (new body)
    with BuildSketch(Plane.YZ):
        with Locations((-122.6783245802, -11.9609721005)):
            Circle(F33_R)
        with Locations((-122.6783245802, -11.9609721005)):
            Circle(F33_R_2, mode=Mode.SUBTRACT)
    extrude(amount=F34_DEPTH)

    # F35 (on face) → F36 (join)
    with BuildSketch(Plane(origin=(0, 0, 0), x_dir=(0, -1, 0), z_dir=(-1, 0, 0))):
        with Locations((122.6783245802, -11.9609721005)):
            Circle(F35_R)
        with Locations((122.6783245802, -11.9609721005)):
            Circle(F35_R_2, mode=Mode.SUBTRACT)
    extrude(amount=F36_DEPTH)

    # F37 (on face) → F38 (join)
    with BuildSketch(Plane.YZ.offset(2.3876)):
        with Locations((-122.6783245802, -11.9609721005)):
            Circle(F37_R)
        with Locations((-122.6783245802, -11.9609721005)):
            Circle(F37_R_2, mode=Mode.SUBTRACT)
    extrude(amount=F38_DEPTH)

    # F39 (on face) → F40 (join)
    with BuildSketch(Plane.YZ.offset(14.3002)):
        with Locations((-122.6783245802, -11.9609721005)):
            Circle(F39_R)
        with Locations((-122.6783245802, -11.9609721005)):
            Circle(F39_R_2, mode=Mode.SUBTRACT)
    extrude(amount=-F40_DEPTH)


with BuildPart() as f42:
    # F41 (on Right) → F42 (new body)
    with BuildSketch(Plane.YZ):
        with Locations((-54.4231086969, 4.7665531747)):
            Circle(F41_R)
        with Locations((-54.4231086969, 4.7665531747)):
            Circle(F41_R_2, mode=Mode.SUBTRACT)
    extrude(amount=-F42_DEPTH)


with BuildPart() as f45:
    # F44 (on offset) → F45 (new body)
    with BuildSketch(Plane(origin=(-25.4, 0, 0), x_dir=(0, -1, 0), z_dir=(-1, 0, 0))):
        Polygon((-115.4400421535, -9.062348591), (-113.2403376278, -5.252348591), (-115.4400421535, -1.442348591), (-119.8394512047, -1.442348591), (-122.0391557303, -5.252348591), (-119.8394512047, -9.062348591), align=None)
        with Locations((-117.6397466791, -5.252348591)):
            Circle(F44_R, mode=Mode.SUBTRACT)
    extrude(amount=F45_DEPTH)


with BuildPart() as f48:
    # F47 (on offset) → F48 (new body)
    with BuildSketch(Plane(origin=(0, 0, -49.702348591), x_dir=(1, 0, 0), z_dir=(0, 0, -1))):
        with Locations((9.525, -68.7447466791)):
            Circle(F47_R)
    extrude(amount=F48_DEPTH)


with BuildPart() as f50:
    # F49 (on offset) → F50 (new body)
    with BuildSketch(Plane(origin=(0, 0, -49.702348591), x_dir=(1, 0, 0), z_dir=(0, 0, -1))):
        Polygon((14.1077177617, -121.1322466791), (18.6904355234, -113.1947466791), (14.1077177617, -105.2572466791), (4.9422822383, -105.2572466791), (0.3595644766, -113.1947466791), (4.9422822383, -121.1322466791), align=None)
        with Locations((9.525, -113.1947466791)):
            Circle(F49_R, mode=Mode.SUBTRACT)
    extrude(amount=F50_DEPTH)

    # F51
    f51_edges = [f50.edges().sort_by_distance(p)[0] for p in [
        (2.650923, 117.163497, -54.452149),
        (2.650923, 109.225997, -54.452149),
        (9.525, 105.257247, -54.452149),
        (16.399077, 109.225997, -54.452149),
        (16.399077, 117.163497, -54.452149),
        (9.525, 121.132247, -54.452149),
        (2.650923, 117.163497, -49.702349),
        (9.525, 121.132247, -49.702349),
        (16.399077, 117.163497, -49.702349),
        (16.399077, 109.225997, -49.702349),
        (9.525, 105.257247, -49.702349),
        (2.650923, 109.225997, -49.702349),
    ]]
    fillet(f51_edges, radius=F51_R)


solid = Compound([f1.part, f15.part, f28.part, f34.part, f42.part, f45.part, f48.part, f50.part])
